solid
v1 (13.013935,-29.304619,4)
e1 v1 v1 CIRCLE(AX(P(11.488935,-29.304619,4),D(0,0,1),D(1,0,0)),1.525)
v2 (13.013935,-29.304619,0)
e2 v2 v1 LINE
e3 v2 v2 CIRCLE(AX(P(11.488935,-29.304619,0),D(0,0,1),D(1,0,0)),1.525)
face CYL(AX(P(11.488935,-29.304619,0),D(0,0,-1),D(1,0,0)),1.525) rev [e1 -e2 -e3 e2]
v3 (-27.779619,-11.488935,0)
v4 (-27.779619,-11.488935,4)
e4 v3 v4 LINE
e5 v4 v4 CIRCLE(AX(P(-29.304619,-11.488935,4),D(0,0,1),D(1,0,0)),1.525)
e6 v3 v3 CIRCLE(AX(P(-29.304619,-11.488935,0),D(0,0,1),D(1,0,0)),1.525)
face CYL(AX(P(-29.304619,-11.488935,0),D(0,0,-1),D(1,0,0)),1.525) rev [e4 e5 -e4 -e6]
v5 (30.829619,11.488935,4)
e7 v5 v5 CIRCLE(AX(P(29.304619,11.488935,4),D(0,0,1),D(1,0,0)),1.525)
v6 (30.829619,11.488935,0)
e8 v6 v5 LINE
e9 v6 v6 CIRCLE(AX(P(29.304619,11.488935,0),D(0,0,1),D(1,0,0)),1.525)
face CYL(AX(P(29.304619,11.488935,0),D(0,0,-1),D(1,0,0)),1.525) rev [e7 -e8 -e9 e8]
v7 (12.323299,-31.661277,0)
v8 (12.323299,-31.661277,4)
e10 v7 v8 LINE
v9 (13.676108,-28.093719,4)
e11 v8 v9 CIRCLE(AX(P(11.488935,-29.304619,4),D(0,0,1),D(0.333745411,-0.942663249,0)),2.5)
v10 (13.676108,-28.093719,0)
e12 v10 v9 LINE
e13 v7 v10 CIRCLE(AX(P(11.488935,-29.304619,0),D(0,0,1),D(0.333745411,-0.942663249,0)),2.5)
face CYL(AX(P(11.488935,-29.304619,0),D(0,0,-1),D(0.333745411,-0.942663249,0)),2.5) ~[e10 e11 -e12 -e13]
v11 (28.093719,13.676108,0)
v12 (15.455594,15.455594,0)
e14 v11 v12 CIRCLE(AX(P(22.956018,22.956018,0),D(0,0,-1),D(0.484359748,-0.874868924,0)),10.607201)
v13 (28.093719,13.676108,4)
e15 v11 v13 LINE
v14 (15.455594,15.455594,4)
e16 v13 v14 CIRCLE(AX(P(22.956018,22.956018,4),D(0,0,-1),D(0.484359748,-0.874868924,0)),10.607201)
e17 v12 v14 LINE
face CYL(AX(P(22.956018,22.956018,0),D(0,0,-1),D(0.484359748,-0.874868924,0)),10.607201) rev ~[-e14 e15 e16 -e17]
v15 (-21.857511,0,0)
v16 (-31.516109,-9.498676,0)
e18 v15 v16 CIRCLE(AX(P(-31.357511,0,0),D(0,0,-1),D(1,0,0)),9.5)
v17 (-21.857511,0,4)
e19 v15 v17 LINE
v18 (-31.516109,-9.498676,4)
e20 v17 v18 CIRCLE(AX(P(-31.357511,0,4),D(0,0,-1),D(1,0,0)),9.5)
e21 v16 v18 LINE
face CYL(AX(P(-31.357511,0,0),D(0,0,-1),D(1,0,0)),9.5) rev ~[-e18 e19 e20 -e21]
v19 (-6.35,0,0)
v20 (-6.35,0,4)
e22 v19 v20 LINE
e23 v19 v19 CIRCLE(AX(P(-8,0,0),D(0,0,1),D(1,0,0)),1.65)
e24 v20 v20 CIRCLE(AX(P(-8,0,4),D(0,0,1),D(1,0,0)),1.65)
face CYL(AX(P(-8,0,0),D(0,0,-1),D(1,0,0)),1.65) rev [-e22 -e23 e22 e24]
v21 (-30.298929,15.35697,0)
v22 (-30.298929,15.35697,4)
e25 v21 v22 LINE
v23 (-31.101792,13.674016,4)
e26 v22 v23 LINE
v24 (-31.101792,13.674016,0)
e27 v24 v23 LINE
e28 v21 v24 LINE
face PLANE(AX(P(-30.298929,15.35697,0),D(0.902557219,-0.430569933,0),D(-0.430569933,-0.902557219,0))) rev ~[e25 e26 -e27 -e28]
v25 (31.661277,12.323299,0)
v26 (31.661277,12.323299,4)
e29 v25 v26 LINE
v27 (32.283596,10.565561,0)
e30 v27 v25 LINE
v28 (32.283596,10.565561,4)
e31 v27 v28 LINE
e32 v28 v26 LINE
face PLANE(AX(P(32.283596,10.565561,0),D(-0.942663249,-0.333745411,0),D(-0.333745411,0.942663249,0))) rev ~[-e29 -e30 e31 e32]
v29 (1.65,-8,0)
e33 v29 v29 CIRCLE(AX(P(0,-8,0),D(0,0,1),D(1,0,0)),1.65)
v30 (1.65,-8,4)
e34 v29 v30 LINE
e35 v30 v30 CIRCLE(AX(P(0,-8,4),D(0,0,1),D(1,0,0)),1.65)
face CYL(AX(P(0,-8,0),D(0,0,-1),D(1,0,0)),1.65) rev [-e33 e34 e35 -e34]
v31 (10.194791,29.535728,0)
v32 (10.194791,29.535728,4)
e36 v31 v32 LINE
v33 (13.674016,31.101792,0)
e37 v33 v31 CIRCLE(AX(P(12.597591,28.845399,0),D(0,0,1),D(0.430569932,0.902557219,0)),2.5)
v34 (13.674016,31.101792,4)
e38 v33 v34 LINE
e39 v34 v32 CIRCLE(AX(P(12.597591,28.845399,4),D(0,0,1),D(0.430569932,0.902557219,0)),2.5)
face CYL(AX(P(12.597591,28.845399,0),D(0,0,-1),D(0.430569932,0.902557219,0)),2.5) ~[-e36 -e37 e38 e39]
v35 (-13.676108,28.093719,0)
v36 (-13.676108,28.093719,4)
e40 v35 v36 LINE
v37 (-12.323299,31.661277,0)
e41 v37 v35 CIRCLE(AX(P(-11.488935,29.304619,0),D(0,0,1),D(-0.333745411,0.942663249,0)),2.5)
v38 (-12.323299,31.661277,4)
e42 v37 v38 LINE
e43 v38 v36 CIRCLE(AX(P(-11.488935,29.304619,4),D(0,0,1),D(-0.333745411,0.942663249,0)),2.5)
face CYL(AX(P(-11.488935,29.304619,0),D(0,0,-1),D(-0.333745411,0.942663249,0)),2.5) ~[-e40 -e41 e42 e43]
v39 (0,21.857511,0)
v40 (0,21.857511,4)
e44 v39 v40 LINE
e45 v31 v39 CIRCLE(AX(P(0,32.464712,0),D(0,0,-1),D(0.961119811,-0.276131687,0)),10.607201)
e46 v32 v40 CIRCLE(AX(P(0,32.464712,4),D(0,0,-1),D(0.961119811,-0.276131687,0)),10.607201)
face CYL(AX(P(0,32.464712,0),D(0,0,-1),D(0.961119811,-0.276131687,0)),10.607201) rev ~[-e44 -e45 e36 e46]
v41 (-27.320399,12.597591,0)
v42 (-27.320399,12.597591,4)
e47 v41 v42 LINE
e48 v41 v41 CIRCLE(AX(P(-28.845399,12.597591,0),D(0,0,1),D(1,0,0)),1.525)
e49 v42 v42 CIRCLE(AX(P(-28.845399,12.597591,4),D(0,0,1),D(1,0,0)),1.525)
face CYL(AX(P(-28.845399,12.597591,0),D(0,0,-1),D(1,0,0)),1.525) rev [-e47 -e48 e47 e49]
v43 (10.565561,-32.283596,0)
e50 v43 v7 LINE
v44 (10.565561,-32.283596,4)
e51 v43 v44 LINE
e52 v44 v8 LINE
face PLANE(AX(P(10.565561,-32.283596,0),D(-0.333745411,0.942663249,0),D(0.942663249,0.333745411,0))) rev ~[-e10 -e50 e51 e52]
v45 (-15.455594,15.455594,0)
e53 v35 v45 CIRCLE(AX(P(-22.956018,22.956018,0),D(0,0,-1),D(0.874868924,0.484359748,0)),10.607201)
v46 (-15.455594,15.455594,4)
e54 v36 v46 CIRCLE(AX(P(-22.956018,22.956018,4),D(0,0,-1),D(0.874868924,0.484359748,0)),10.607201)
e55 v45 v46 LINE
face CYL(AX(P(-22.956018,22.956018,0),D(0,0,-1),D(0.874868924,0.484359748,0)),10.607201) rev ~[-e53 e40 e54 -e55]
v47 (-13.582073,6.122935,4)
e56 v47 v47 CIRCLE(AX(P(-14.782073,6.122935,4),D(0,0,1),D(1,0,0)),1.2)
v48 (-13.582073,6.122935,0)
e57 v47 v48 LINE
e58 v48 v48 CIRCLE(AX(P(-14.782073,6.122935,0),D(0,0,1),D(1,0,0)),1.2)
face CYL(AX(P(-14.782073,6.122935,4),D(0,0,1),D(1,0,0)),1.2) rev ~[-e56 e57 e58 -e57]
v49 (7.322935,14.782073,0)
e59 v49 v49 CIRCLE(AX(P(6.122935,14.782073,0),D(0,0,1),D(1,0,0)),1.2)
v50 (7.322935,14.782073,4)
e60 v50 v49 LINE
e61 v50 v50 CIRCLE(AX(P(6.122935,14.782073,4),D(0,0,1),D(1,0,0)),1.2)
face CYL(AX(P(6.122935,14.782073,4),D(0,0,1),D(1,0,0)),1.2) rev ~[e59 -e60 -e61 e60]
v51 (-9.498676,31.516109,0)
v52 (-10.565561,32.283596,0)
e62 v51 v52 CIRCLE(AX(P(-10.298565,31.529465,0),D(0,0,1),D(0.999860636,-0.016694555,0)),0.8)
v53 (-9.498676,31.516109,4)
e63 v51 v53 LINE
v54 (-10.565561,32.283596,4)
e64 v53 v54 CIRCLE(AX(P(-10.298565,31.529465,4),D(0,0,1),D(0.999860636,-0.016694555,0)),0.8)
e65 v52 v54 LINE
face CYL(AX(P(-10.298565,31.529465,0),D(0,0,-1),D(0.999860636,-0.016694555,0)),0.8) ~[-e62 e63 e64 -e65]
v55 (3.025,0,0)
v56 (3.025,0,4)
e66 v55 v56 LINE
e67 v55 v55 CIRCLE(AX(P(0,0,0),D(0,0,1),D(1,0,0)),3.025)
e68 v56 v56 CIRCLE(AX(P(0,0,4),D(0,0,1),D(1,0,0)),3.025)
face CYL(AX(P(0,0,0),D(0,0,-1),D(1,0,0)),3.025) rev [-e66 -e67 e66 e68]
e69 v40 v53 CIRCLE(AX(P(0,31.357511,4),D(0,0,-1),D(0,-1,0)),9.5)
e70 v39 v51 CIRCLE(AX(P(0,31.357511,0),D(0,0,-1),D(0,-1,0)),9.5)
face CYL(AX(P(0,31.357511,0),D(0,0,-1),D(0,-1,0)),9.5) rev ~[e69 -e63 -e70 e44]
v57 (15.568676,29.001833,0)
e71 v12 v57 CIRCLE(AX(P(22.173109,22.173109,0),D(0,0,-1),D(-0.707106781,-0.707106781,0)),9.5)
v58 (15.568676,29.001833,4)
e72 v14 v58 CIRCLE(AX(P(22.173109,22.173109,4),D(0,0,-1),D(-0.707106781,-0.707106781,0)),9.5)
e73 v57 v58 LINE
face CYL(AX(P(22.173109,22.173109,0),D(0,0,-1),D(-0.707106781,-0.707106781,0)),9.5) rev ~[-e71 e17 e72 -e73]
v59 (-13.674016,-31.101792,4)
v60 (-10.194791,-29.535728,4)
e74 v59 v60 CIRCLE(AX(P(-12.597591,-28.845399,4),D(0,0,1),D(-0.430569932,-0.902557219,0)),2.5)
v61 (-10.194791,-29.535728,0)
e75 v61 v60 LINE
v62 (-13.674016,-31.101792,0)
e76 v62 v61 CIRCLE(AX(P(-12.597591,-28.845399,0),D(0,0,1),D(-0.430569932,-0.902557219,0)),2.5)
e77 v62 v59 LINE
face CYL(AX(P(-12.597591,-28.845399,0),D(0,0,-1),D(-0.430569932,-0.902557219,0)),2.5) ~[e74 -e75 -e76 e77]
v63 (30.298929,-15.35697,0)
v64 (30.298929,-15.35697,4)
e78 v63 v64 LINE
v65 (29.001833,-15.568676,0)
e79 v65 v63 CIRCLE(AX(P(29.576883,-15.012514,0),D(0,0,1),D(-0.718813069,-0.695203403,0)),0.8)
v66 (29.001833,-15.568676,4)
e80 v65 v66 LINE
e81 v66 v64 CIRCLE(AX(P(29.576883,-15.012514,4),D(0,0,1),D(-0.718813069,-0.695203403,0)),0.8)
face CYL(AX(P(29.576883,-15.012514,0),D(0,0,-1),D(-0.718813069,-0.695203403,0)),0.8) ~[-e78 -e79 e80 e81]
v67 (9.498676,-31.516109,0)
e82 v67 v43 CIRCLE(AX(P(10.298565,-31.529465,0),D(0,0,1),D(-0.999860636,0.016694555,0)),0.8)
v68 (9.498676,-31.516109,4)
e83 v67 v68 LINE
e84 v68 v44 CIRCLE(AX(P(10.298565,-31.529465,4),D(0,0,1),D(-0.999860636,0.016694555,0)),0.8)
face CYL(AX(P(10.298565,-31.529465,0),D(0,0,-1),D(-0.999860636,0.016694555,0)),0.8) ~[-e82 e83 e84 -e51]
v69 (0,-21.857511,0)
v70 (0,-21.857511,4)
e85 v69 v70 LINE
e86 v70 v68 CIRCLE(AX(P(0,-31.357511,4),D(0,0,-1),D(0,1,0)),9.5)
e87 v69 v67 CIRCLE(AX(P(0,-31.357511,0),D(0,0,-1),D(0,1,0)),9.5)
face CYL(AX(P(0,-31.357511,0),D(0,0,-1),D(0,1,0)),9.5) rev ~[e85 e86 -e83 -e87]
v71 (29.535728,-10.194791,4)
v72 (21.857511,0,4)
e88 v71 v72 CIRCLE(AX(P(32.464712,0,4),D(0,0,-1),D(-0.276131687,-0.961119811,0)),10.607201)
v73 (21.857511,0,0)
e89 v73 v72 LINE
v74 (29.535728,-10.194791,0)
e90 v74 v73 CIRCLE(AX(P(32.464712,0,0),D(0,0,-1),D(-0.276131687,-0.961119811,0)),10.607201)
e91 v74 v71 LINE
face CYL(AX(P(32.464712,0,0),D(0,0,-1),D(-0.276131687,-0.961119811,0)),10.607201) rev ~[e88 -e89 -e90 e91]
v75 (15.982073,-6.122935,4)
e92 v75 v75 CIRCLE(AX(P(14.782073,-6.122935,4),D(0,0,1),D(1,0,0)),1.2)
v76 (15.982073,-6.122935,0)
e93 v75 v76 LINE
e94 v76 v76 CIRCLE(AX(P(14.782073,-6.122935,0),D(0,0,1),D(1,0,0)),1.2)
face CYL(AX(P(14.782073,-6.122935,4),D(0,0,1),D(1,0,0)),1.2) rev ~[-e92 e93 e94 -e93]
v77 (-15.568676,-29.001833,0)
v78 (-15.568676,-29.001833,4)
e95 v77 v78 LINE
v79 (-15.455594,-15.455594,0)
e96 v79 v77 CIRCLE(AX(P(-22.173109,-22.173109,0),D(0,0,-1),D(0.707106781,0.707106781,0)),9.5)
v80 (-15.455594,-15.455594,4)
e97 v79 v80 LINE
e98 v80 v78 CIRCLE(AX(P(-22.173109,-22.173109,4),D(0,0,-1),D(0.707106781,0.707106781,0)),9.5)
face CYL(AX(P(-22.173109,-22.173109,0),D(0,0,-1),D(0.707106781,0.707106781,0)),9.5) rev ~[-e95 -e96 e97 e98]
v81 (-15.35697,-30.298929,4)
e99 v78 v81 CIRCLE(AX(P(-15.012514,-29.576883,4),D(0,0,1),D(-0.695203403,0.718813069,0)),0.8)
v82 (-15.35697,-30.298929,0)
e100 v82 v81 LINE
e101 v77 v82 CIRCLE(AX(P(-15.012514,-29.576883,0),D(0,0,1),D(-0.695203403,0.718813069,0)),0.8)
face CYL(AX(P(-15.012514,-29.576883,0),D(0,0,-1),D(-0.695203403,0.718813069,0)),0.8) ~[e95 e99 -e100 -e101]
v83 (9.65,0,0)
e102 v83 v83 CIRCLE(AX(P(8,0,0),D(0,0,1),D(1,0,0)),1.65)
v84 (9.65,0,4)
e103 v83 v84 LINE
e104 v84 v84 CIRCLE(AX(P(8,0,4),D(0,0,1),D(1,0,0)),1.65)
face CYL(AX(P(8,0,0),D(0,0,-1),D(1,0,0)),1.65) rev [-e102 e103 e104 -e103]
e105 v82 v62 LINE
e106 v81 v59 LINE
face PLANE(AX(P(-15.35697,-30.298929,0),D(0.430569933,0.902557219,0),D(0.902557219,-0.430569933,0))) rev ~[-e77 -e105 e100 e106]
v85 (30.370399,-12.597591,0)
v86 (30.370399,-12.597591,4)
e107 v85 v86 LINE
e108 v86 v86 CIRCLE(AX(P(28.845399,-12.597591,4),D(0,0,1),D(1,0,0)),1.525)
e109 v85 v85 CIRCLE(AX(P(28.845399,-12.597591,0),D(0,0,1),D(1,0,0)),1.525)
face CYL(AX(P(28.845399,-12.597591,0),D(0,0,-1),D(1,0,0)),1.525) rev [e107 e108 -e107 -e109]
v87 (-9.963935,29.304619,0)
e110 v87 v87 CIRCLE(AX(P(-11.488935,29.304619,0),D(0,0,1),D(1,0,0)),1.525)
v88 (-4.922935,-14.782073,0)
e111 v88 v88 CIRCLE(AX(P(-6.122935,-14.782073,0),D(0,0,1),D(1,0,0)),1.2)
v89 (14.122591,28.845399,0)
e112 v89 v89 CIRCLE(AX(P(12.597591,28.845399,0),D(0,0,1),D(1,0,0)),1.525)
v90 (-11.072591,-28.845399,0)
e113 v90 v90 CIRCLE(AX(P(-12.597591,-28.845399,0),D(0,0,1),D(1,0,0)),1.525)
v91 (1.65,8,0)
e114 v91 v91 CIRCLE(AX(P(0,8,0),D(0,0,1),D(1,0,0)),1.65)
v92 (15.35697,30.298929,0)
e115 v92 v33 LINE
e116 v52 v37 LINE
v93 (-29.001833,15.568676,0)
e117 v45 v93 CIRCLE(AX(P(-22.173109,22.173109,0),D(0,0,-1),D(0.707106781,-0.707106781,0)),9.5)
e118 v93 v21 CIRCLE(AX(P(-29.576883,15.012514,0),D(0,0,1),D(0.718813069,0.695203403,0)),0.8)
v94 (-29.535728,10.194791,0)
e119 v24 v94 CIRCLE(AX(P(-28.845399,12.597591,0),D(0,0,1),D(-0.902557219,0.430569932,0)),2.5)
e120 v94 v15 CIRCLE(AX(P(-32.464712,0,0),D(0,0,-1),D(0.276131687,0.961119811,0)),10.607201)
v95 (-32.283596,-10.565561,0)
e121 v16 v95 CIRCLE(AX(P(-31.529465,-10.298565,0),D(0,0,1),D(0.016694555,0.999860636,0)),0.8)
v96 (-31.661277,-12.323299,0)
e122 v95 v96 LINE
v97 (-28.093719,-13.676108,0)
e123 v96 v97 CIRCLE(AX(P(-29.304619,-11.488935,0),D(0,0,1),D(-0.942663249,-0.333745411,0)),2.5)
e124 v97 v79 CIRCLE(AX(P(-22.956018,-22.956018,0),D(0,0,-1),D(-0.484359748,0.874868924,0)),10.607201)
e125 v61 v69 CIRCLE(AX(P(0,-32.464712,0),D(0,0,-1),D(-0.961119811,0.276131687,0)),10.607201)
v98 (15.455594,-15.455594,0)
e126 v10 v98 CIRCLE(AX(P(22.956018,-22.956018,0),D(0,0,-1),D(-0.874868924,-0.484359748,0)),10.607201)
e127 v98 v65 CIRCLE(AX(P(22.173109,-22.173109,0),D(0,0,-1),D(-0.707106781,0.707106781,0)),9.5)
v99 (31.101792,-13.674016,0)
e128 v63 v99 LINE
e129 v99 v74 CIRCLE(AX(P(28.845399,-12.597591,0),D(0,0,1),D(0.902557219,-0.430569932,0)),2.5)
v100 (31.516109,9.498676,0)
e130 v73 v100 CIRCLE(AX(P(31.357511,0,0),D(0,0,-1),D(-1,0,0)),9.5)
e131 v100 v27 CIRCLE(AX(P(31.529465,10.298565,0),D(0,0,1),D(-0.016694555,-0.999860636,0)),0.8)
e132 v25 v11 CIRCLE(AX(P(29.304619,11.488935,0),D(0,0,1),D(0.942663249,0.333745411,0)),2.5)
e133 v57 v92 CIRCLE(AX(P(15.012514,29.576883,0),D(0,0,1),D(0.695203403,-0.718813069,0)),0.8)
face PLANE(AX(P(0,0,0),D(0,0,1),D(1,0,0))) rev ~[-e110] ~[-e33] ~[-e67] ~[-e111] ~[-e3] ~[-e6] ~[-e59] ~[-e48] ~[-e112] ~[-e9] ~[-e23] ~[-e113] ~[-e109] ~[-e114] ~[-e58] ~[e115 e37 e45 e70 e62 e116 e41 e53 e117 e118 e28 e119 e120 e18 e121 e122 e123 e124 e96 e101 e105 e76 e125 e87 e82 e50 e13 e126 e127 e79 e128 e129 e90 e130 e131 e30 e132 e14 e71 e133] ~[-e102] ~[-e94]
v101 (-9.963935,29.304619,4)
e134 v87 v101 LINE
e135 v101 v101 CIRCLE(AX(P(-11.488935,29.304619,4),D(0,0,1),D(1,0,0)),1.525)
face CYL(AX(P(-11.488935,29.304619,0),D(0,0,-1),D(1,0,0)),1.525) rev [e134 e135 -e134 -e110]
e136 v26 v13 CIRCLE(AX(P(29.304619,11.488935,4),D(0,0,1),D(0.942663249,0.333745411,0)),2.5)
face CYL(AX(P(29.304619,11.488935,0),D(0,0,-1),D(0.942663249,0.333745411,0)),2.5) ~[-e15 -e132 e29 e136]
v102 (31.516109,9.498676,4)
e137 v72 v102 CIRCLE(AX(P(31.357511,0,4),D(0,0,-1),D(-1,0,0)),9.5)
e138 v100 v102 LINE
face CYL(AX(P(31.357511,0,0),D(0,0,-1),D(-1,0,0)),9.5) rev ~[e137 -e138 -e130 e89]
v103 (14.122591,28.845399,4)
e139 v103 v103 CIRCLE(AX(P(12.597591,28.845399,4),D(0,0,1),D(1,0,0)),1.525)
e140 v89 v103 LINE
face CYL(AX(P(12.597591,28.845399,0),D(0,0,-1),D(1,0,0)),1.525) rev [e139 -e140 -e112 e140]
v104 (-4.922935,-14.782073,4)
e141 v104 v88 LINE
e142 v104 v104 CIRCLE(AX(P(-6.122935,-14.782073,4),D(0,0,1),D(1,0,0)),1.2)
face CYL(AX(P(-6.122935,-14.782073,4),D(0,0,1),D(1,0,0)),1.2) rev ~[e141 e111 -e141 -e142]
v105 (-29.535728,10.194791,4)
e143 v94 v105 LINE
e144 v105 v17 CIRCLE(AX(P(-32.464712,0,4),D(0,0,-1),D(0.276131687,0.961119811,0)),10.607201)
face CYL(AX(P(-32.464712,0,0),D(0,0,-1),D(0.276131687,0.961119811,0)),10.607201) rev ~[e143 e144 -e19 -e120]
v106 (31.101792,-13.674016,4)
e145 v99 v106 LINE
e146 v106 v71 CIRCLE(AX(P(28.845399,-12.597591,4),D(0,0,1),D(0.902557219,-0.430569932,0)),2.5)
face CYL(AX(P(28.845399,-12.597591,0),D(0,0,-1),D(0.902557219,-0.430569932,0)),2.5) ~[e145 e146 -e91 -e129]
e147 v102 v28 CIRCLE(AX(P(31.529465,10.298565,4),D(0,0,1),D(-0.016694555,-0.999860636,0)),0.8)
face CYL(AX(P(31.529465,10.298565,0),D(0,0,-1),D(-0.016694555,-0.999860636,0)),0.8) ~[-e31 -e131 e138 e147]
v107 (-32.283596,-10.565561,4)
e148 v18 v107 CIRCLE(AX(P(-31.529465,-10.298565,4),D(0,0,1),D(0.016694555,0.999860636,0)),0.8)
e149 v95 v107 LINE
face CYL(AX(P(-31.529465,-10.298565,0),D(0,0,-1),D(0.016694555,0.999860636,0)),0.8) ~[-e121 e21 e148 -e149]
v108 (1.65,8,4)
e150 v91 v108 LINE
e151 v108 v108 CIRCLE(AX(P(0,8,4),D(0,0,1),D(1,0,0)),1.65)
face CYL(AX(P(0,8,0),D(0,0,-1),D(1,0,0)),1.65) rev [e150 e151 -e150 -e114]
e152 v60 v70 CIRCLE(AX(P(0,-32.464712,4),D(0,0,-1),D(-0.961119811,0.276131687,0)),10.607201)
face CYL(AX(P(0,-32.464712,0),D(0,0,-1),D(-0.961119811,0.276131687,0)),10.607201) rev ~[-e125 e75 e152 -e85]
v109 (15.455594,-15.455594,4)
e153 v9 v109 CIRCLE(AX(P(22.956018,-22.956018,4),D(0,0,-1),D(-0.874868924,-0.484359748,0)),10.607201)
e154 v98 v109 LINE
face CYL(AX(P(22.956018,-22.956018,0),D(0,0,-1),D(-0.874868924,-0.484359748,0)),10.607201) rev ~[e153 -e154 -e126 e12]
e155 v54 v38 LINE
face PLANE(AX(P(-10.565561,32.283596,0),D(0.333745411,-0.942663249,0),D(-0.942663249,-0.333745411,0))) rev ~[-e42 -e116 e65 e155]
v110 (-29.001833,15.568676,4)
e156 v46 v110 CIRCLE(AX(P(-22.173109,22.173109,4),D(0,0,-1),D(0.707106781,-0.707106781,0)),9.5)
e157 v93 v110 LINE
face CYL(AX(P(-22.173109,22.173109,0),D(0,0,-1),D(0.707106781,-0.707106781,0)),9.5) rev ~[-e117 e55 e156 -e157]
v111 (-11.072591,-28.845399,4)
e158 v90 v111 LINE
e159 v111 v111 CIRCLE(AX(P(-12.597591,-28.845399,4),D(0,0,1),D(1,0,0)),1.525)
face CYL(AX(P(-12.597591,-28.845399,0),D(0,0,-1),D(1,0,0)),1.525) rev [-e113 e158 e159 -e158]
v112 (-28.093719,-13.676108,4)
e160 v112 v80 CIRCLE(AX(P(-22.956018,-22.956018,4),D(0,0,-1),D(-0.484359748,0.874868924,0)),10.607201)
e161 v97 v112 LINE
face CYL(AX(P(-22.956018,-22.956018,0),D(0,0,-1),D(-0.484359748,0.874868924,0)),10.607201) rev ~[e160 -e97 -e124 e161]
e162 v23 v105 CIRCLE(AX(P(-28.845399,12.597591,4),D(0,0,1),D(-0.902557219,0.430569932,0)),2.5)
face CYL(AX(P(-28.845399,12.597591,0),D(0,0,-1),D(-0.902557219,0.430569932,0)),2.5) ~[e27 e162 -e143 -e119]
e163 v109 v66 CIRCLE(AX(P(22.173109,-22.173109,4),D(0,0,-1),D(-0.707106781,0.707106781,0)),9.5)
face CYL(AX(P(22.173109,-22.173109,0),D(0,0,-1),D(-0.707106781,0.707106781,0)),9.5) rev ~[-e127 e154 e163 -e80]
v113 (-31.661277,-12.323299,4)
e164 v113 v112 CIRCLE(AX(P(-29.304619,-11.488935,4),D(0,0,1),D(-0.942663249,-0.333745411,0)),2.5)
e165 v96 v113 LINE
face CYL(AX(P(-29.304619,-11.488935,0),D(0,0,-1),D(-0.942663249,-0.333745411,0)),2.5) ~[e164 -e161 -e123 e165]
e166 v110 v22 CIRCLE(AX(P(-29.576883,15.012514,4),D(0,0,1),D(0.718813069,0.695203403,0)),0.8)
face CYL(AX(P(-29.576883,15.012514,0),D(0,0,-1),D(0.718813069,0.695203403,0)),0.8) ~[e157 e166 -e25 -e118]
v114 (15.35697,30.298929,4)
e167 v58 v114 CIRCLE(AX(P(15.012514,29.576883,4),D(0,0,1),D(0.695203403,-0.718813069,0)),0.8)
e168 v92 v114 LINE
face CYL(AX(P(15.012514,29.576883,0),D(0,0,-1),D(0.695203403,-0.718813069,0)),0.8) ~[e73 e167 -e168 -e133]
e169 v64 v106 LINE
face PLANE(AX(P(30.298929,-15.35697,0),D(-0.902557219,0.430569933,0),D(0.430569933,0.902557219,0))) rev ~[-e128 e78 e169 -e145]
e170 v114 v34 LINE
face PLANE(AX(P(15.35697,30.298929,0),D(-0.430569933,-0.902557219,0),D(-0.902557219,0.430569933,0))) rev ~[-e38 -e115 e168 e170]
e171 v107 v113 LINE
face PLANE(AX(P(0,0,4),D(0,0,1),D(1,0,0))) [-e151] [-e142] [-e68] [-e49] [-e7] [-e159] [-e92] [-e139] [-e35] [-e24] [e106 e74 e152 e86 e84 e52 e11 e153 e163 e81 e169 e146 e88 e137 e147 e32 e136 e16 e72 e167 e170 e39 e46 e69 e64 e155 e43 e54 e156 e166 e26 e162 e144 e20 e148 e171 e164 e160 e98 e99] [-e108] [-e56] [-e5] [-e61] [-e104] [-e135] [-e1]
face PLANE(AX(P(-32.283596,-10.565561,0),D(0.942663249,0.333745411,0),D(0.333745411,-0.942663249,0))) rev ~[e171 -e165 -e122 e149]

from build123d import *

# Parameters (mm, degrees)
SKETCH_1_R          = 1.525
SKETCH_1_R_2        = 3.025
SKETCH_1_R_3        = 1.65
EXTRUDE_1_DEPTH     = 4
SKETCH_2_R          = 1.2
CUT_EXTRUDE_1_DEPTH = 10


with BuildPart() as part:
    # 草图1 → 凸台-拉伸1 (new body)
    with BuildSketch(Plane.XY):
        with BuildLine():
            Line((15.356969673, 30.298929166), (13.674015522, 31.101791788))
            ThreePointArc((13.674015522, 31.101791788), (11.571454033, 31.125101256), (10.194791162, 29.535727958))
            ThreePointArc((10.194791162, 29.535727958), (6.381394442, 23.991783581), (0, 21.857511157))
            ThreePointArc((0, 21.857511157), (-6.773355282, 24.696305694), (-9.498676044, 31.516109427))
            ThreePointArc((-9.498676044, 31.516109427), (-9.831389744, 32.178886119), (-10.565560882, 32.28359567))
            Line((-10.565560882, 32.28359567), (-12.323298779, 31.661276982))
            ThreePointArc((-12.323298779, 31.661276982), (-13.826516548, 30.191023779), (-13.676107562, 28.09371949))
            ThreePointArc((-13.676107562, 28.09371949), (-12.45242558, 21.477080146), (-15.455594359, 15.455594359))
            ThreePointArc((-15.455594359, 15.455594359), (-22.252410678, 12.673439775), (-29.001832935, 15.568676449))
            ThreePointArc((-29.001832935, 15.568676449), (-29.705750942, 15.802066229), (-30.298929166, 15.356969673))
            Line((-30.298929166, 15.356969673), (-31.101791788, 13.674015522))
            ThreePointArc((-31.101791788, 13.674015522), (-31.125101256, 11.571454033), (-29.535727958, 10.194791162))
            ThreePointArc((-29.535727958, 10.194791162), (-23.991783581, 6.381394442), (-21.857511157, 0))
            ThreePointArc((-21.857511157, 0), (-24.696305694, -6.773355282), (-31.516109427, -9.498676044))
            ThreePointArc((-31.516109427, -9.498676044), (-32.178886119, -9.831389744), (-32.28359567, -10.565560882))
            Line((-32.28359567, -10.565560882), (-31.661276982, -12.323298779))
            ThreePointArc((-31.661276982, -12.323298779), (-30.191023779, -13.826516548), (-28.09371949, -13.676107562))
            ThreePointArc((-28.09371949, -13.676107562), (-21.477080146, -12.45242558), (-15.455594359, -15.455594359))
            ThreePointArc((-15.455594359, -15.455594359), (-12.673439775, -22.252410678), (-15.568676449, -29.001832935))
            ThreePointArc((-15.568676449, -29.001832935), (-15.802066229, -29.705750942), (-15.356969673, -30.298929166))
            Line((-15.356969673, -30.298929166), (-13.674015522, -31.101791788))
            ThreePointArc((-13.674015522, -31.101791788), (-11.571454033, -31.125101256), (-10.194791162, -29.535727958))
            ThreePointArc((-10.194791162, -29.535727958), (-6.381394442, -23.991783581), (0, -21.857511157))
            ThreePointArc((0, -21.857511157), (6.773355282, -24.696305694), (9.498676044, -31.516109427))
            ThreePointArc((9.498676044, -31.516109427), (9.831389744, -32.178886119), (10.565560882, -32.28359567))
            Line((10.565560882, -32.28359567), (12.323298779, -31.661276982))
            ThreePointArc((12.323298779, -31.661276982), (13.826516548, -30.191023779), (13.676107562, -28.09371949))
            ThreePointArc((13.676107562, -28.09371949), (12.45242558, -21.477080146), (15.455594359, -15.455594359))
            ThreePointArc((15.455594359, -15.455594359), (22.252410678, -12.673439775), (29.001832935, -15.568676449))
            ThreePointArc((29.001832935, -15.568676449), (29.705750942, -15.802066229), (30.298929166, -15.356969673))
            Line((30.298929166, -15.356969673), (31.101791788, -13.674015522))
            ThreePointArc((31.101791788, -13.674015522), (31.125101256, -11.571454033), (29.535727958, -10.194791162))
            ThreePointArc((29.535727958, -10.194791162), (23.991783581, -6.381394442), (21.857511157, 0))
            ThreePointArc((21.857511157, 0), (24.696305694, 6.773355282), (31.516109427, 9.498676044))
            ThreePointArc((31.516109427, 9.498676044), (32.178886119, 9.831389744), (32.28359567, 10.565560882))
            Line((32.28359567, 10.565560882), (31.661276982, 12.323298779))
            ThreePointArc((31.661276982, 12.323298779), (30.191023779, 13.826516548), (28.09371949, 13.676107562))
            ThreePointArc((28.09371949, 13.676107562), (21.477080146, 12.45242558), (15.455594359, 15.455594359))
            ThreePointArc((15.455594359, 15.455594359), (12.673439775, 22.252410678), (15.568676449, 29.001832935))
            ThreePointArc((15.568676449, 29.001832935), (15.802066229, 29.705750942), (15.356969673, 30.298929166))
        make_face()
        with Locations((12.597590691, 28.845398741)):
            Circle(SKETCH_1_R, mode=Mode.SUBTRACT)
        with Locations((29.304618859, 11.488935252)):
            Circle(SKETCH_1_R, mode=Mode.SUBTRACT)
        with Locations((28.845398741, -12.597590691)):
            Circle(SKETCH_1_R, mode=Mode.SUBTRACT)
        with Locations((11.488935252, -29.304618859)):
            Circle(SKETCH_1_R, mode=Mode.SUBTRACT)
        with Locations((-12.597590691, -28.845398741)):
            Circle(SKETCH_1_R, mode=Mode.SUBTRACT)
        with Locations((-29.304618859, -11.488935252)):
            Circle(SKETCH_1_R, mode=Mode.SUBTRACT)
        with Locations((-28.845398741, 12.597590691)):
            Circle(SKETCH_1_R, mode=Mode.SUBTRACT)
        with Locations((-11.488935252, 29.304618859)):
            Circle(SKETCH_1_R, mode=Mode.SUBTRACT)
        Circle(SKETCH_1_R_2, mode=Mode.SUBTRACT)
        with Locations((-8, 0)):
            Circle(SKETCH_1_R_3, mode=Mode.SUBTRACT)
        with Locations((0, 8)):
            Circle(SKETCH_1_R_3, mode=Mode.SUBTRACT)
        with Locations((8, 0)):
            Circle(SKETCH_1_R_3, mode=Mode.SUBTRACT)
        with Locations((0, -8)):
            Circle(SKETCH_1_R_3, mode=Mode.SUBTRACT)
    extrude(amount=EXTRUDE_1_DEPTH)

    # 草图2 → 切除-拉伸1 (cut)
    with BuildSketch(Plane.XY.offset(4)):
        with Locations((-6.122934918, -14.78207252)):
            Circle(SKETCH_2_R)
        with Locations((-14.78207252, 6.122934918)):
            Circle(SKETCH_2_R)
        with Locations((6.122934918, 14.78207252)):
            Circle(SKETCH_2_R)
        with Locations((14.78207252, -6.122934918)):
            Circle(SKETCH_2_R)
    extrude(amount=-CUT_EXTRUDE_1_DEPTH, mode=Mode.SUBTRACT)


solid = part.part
